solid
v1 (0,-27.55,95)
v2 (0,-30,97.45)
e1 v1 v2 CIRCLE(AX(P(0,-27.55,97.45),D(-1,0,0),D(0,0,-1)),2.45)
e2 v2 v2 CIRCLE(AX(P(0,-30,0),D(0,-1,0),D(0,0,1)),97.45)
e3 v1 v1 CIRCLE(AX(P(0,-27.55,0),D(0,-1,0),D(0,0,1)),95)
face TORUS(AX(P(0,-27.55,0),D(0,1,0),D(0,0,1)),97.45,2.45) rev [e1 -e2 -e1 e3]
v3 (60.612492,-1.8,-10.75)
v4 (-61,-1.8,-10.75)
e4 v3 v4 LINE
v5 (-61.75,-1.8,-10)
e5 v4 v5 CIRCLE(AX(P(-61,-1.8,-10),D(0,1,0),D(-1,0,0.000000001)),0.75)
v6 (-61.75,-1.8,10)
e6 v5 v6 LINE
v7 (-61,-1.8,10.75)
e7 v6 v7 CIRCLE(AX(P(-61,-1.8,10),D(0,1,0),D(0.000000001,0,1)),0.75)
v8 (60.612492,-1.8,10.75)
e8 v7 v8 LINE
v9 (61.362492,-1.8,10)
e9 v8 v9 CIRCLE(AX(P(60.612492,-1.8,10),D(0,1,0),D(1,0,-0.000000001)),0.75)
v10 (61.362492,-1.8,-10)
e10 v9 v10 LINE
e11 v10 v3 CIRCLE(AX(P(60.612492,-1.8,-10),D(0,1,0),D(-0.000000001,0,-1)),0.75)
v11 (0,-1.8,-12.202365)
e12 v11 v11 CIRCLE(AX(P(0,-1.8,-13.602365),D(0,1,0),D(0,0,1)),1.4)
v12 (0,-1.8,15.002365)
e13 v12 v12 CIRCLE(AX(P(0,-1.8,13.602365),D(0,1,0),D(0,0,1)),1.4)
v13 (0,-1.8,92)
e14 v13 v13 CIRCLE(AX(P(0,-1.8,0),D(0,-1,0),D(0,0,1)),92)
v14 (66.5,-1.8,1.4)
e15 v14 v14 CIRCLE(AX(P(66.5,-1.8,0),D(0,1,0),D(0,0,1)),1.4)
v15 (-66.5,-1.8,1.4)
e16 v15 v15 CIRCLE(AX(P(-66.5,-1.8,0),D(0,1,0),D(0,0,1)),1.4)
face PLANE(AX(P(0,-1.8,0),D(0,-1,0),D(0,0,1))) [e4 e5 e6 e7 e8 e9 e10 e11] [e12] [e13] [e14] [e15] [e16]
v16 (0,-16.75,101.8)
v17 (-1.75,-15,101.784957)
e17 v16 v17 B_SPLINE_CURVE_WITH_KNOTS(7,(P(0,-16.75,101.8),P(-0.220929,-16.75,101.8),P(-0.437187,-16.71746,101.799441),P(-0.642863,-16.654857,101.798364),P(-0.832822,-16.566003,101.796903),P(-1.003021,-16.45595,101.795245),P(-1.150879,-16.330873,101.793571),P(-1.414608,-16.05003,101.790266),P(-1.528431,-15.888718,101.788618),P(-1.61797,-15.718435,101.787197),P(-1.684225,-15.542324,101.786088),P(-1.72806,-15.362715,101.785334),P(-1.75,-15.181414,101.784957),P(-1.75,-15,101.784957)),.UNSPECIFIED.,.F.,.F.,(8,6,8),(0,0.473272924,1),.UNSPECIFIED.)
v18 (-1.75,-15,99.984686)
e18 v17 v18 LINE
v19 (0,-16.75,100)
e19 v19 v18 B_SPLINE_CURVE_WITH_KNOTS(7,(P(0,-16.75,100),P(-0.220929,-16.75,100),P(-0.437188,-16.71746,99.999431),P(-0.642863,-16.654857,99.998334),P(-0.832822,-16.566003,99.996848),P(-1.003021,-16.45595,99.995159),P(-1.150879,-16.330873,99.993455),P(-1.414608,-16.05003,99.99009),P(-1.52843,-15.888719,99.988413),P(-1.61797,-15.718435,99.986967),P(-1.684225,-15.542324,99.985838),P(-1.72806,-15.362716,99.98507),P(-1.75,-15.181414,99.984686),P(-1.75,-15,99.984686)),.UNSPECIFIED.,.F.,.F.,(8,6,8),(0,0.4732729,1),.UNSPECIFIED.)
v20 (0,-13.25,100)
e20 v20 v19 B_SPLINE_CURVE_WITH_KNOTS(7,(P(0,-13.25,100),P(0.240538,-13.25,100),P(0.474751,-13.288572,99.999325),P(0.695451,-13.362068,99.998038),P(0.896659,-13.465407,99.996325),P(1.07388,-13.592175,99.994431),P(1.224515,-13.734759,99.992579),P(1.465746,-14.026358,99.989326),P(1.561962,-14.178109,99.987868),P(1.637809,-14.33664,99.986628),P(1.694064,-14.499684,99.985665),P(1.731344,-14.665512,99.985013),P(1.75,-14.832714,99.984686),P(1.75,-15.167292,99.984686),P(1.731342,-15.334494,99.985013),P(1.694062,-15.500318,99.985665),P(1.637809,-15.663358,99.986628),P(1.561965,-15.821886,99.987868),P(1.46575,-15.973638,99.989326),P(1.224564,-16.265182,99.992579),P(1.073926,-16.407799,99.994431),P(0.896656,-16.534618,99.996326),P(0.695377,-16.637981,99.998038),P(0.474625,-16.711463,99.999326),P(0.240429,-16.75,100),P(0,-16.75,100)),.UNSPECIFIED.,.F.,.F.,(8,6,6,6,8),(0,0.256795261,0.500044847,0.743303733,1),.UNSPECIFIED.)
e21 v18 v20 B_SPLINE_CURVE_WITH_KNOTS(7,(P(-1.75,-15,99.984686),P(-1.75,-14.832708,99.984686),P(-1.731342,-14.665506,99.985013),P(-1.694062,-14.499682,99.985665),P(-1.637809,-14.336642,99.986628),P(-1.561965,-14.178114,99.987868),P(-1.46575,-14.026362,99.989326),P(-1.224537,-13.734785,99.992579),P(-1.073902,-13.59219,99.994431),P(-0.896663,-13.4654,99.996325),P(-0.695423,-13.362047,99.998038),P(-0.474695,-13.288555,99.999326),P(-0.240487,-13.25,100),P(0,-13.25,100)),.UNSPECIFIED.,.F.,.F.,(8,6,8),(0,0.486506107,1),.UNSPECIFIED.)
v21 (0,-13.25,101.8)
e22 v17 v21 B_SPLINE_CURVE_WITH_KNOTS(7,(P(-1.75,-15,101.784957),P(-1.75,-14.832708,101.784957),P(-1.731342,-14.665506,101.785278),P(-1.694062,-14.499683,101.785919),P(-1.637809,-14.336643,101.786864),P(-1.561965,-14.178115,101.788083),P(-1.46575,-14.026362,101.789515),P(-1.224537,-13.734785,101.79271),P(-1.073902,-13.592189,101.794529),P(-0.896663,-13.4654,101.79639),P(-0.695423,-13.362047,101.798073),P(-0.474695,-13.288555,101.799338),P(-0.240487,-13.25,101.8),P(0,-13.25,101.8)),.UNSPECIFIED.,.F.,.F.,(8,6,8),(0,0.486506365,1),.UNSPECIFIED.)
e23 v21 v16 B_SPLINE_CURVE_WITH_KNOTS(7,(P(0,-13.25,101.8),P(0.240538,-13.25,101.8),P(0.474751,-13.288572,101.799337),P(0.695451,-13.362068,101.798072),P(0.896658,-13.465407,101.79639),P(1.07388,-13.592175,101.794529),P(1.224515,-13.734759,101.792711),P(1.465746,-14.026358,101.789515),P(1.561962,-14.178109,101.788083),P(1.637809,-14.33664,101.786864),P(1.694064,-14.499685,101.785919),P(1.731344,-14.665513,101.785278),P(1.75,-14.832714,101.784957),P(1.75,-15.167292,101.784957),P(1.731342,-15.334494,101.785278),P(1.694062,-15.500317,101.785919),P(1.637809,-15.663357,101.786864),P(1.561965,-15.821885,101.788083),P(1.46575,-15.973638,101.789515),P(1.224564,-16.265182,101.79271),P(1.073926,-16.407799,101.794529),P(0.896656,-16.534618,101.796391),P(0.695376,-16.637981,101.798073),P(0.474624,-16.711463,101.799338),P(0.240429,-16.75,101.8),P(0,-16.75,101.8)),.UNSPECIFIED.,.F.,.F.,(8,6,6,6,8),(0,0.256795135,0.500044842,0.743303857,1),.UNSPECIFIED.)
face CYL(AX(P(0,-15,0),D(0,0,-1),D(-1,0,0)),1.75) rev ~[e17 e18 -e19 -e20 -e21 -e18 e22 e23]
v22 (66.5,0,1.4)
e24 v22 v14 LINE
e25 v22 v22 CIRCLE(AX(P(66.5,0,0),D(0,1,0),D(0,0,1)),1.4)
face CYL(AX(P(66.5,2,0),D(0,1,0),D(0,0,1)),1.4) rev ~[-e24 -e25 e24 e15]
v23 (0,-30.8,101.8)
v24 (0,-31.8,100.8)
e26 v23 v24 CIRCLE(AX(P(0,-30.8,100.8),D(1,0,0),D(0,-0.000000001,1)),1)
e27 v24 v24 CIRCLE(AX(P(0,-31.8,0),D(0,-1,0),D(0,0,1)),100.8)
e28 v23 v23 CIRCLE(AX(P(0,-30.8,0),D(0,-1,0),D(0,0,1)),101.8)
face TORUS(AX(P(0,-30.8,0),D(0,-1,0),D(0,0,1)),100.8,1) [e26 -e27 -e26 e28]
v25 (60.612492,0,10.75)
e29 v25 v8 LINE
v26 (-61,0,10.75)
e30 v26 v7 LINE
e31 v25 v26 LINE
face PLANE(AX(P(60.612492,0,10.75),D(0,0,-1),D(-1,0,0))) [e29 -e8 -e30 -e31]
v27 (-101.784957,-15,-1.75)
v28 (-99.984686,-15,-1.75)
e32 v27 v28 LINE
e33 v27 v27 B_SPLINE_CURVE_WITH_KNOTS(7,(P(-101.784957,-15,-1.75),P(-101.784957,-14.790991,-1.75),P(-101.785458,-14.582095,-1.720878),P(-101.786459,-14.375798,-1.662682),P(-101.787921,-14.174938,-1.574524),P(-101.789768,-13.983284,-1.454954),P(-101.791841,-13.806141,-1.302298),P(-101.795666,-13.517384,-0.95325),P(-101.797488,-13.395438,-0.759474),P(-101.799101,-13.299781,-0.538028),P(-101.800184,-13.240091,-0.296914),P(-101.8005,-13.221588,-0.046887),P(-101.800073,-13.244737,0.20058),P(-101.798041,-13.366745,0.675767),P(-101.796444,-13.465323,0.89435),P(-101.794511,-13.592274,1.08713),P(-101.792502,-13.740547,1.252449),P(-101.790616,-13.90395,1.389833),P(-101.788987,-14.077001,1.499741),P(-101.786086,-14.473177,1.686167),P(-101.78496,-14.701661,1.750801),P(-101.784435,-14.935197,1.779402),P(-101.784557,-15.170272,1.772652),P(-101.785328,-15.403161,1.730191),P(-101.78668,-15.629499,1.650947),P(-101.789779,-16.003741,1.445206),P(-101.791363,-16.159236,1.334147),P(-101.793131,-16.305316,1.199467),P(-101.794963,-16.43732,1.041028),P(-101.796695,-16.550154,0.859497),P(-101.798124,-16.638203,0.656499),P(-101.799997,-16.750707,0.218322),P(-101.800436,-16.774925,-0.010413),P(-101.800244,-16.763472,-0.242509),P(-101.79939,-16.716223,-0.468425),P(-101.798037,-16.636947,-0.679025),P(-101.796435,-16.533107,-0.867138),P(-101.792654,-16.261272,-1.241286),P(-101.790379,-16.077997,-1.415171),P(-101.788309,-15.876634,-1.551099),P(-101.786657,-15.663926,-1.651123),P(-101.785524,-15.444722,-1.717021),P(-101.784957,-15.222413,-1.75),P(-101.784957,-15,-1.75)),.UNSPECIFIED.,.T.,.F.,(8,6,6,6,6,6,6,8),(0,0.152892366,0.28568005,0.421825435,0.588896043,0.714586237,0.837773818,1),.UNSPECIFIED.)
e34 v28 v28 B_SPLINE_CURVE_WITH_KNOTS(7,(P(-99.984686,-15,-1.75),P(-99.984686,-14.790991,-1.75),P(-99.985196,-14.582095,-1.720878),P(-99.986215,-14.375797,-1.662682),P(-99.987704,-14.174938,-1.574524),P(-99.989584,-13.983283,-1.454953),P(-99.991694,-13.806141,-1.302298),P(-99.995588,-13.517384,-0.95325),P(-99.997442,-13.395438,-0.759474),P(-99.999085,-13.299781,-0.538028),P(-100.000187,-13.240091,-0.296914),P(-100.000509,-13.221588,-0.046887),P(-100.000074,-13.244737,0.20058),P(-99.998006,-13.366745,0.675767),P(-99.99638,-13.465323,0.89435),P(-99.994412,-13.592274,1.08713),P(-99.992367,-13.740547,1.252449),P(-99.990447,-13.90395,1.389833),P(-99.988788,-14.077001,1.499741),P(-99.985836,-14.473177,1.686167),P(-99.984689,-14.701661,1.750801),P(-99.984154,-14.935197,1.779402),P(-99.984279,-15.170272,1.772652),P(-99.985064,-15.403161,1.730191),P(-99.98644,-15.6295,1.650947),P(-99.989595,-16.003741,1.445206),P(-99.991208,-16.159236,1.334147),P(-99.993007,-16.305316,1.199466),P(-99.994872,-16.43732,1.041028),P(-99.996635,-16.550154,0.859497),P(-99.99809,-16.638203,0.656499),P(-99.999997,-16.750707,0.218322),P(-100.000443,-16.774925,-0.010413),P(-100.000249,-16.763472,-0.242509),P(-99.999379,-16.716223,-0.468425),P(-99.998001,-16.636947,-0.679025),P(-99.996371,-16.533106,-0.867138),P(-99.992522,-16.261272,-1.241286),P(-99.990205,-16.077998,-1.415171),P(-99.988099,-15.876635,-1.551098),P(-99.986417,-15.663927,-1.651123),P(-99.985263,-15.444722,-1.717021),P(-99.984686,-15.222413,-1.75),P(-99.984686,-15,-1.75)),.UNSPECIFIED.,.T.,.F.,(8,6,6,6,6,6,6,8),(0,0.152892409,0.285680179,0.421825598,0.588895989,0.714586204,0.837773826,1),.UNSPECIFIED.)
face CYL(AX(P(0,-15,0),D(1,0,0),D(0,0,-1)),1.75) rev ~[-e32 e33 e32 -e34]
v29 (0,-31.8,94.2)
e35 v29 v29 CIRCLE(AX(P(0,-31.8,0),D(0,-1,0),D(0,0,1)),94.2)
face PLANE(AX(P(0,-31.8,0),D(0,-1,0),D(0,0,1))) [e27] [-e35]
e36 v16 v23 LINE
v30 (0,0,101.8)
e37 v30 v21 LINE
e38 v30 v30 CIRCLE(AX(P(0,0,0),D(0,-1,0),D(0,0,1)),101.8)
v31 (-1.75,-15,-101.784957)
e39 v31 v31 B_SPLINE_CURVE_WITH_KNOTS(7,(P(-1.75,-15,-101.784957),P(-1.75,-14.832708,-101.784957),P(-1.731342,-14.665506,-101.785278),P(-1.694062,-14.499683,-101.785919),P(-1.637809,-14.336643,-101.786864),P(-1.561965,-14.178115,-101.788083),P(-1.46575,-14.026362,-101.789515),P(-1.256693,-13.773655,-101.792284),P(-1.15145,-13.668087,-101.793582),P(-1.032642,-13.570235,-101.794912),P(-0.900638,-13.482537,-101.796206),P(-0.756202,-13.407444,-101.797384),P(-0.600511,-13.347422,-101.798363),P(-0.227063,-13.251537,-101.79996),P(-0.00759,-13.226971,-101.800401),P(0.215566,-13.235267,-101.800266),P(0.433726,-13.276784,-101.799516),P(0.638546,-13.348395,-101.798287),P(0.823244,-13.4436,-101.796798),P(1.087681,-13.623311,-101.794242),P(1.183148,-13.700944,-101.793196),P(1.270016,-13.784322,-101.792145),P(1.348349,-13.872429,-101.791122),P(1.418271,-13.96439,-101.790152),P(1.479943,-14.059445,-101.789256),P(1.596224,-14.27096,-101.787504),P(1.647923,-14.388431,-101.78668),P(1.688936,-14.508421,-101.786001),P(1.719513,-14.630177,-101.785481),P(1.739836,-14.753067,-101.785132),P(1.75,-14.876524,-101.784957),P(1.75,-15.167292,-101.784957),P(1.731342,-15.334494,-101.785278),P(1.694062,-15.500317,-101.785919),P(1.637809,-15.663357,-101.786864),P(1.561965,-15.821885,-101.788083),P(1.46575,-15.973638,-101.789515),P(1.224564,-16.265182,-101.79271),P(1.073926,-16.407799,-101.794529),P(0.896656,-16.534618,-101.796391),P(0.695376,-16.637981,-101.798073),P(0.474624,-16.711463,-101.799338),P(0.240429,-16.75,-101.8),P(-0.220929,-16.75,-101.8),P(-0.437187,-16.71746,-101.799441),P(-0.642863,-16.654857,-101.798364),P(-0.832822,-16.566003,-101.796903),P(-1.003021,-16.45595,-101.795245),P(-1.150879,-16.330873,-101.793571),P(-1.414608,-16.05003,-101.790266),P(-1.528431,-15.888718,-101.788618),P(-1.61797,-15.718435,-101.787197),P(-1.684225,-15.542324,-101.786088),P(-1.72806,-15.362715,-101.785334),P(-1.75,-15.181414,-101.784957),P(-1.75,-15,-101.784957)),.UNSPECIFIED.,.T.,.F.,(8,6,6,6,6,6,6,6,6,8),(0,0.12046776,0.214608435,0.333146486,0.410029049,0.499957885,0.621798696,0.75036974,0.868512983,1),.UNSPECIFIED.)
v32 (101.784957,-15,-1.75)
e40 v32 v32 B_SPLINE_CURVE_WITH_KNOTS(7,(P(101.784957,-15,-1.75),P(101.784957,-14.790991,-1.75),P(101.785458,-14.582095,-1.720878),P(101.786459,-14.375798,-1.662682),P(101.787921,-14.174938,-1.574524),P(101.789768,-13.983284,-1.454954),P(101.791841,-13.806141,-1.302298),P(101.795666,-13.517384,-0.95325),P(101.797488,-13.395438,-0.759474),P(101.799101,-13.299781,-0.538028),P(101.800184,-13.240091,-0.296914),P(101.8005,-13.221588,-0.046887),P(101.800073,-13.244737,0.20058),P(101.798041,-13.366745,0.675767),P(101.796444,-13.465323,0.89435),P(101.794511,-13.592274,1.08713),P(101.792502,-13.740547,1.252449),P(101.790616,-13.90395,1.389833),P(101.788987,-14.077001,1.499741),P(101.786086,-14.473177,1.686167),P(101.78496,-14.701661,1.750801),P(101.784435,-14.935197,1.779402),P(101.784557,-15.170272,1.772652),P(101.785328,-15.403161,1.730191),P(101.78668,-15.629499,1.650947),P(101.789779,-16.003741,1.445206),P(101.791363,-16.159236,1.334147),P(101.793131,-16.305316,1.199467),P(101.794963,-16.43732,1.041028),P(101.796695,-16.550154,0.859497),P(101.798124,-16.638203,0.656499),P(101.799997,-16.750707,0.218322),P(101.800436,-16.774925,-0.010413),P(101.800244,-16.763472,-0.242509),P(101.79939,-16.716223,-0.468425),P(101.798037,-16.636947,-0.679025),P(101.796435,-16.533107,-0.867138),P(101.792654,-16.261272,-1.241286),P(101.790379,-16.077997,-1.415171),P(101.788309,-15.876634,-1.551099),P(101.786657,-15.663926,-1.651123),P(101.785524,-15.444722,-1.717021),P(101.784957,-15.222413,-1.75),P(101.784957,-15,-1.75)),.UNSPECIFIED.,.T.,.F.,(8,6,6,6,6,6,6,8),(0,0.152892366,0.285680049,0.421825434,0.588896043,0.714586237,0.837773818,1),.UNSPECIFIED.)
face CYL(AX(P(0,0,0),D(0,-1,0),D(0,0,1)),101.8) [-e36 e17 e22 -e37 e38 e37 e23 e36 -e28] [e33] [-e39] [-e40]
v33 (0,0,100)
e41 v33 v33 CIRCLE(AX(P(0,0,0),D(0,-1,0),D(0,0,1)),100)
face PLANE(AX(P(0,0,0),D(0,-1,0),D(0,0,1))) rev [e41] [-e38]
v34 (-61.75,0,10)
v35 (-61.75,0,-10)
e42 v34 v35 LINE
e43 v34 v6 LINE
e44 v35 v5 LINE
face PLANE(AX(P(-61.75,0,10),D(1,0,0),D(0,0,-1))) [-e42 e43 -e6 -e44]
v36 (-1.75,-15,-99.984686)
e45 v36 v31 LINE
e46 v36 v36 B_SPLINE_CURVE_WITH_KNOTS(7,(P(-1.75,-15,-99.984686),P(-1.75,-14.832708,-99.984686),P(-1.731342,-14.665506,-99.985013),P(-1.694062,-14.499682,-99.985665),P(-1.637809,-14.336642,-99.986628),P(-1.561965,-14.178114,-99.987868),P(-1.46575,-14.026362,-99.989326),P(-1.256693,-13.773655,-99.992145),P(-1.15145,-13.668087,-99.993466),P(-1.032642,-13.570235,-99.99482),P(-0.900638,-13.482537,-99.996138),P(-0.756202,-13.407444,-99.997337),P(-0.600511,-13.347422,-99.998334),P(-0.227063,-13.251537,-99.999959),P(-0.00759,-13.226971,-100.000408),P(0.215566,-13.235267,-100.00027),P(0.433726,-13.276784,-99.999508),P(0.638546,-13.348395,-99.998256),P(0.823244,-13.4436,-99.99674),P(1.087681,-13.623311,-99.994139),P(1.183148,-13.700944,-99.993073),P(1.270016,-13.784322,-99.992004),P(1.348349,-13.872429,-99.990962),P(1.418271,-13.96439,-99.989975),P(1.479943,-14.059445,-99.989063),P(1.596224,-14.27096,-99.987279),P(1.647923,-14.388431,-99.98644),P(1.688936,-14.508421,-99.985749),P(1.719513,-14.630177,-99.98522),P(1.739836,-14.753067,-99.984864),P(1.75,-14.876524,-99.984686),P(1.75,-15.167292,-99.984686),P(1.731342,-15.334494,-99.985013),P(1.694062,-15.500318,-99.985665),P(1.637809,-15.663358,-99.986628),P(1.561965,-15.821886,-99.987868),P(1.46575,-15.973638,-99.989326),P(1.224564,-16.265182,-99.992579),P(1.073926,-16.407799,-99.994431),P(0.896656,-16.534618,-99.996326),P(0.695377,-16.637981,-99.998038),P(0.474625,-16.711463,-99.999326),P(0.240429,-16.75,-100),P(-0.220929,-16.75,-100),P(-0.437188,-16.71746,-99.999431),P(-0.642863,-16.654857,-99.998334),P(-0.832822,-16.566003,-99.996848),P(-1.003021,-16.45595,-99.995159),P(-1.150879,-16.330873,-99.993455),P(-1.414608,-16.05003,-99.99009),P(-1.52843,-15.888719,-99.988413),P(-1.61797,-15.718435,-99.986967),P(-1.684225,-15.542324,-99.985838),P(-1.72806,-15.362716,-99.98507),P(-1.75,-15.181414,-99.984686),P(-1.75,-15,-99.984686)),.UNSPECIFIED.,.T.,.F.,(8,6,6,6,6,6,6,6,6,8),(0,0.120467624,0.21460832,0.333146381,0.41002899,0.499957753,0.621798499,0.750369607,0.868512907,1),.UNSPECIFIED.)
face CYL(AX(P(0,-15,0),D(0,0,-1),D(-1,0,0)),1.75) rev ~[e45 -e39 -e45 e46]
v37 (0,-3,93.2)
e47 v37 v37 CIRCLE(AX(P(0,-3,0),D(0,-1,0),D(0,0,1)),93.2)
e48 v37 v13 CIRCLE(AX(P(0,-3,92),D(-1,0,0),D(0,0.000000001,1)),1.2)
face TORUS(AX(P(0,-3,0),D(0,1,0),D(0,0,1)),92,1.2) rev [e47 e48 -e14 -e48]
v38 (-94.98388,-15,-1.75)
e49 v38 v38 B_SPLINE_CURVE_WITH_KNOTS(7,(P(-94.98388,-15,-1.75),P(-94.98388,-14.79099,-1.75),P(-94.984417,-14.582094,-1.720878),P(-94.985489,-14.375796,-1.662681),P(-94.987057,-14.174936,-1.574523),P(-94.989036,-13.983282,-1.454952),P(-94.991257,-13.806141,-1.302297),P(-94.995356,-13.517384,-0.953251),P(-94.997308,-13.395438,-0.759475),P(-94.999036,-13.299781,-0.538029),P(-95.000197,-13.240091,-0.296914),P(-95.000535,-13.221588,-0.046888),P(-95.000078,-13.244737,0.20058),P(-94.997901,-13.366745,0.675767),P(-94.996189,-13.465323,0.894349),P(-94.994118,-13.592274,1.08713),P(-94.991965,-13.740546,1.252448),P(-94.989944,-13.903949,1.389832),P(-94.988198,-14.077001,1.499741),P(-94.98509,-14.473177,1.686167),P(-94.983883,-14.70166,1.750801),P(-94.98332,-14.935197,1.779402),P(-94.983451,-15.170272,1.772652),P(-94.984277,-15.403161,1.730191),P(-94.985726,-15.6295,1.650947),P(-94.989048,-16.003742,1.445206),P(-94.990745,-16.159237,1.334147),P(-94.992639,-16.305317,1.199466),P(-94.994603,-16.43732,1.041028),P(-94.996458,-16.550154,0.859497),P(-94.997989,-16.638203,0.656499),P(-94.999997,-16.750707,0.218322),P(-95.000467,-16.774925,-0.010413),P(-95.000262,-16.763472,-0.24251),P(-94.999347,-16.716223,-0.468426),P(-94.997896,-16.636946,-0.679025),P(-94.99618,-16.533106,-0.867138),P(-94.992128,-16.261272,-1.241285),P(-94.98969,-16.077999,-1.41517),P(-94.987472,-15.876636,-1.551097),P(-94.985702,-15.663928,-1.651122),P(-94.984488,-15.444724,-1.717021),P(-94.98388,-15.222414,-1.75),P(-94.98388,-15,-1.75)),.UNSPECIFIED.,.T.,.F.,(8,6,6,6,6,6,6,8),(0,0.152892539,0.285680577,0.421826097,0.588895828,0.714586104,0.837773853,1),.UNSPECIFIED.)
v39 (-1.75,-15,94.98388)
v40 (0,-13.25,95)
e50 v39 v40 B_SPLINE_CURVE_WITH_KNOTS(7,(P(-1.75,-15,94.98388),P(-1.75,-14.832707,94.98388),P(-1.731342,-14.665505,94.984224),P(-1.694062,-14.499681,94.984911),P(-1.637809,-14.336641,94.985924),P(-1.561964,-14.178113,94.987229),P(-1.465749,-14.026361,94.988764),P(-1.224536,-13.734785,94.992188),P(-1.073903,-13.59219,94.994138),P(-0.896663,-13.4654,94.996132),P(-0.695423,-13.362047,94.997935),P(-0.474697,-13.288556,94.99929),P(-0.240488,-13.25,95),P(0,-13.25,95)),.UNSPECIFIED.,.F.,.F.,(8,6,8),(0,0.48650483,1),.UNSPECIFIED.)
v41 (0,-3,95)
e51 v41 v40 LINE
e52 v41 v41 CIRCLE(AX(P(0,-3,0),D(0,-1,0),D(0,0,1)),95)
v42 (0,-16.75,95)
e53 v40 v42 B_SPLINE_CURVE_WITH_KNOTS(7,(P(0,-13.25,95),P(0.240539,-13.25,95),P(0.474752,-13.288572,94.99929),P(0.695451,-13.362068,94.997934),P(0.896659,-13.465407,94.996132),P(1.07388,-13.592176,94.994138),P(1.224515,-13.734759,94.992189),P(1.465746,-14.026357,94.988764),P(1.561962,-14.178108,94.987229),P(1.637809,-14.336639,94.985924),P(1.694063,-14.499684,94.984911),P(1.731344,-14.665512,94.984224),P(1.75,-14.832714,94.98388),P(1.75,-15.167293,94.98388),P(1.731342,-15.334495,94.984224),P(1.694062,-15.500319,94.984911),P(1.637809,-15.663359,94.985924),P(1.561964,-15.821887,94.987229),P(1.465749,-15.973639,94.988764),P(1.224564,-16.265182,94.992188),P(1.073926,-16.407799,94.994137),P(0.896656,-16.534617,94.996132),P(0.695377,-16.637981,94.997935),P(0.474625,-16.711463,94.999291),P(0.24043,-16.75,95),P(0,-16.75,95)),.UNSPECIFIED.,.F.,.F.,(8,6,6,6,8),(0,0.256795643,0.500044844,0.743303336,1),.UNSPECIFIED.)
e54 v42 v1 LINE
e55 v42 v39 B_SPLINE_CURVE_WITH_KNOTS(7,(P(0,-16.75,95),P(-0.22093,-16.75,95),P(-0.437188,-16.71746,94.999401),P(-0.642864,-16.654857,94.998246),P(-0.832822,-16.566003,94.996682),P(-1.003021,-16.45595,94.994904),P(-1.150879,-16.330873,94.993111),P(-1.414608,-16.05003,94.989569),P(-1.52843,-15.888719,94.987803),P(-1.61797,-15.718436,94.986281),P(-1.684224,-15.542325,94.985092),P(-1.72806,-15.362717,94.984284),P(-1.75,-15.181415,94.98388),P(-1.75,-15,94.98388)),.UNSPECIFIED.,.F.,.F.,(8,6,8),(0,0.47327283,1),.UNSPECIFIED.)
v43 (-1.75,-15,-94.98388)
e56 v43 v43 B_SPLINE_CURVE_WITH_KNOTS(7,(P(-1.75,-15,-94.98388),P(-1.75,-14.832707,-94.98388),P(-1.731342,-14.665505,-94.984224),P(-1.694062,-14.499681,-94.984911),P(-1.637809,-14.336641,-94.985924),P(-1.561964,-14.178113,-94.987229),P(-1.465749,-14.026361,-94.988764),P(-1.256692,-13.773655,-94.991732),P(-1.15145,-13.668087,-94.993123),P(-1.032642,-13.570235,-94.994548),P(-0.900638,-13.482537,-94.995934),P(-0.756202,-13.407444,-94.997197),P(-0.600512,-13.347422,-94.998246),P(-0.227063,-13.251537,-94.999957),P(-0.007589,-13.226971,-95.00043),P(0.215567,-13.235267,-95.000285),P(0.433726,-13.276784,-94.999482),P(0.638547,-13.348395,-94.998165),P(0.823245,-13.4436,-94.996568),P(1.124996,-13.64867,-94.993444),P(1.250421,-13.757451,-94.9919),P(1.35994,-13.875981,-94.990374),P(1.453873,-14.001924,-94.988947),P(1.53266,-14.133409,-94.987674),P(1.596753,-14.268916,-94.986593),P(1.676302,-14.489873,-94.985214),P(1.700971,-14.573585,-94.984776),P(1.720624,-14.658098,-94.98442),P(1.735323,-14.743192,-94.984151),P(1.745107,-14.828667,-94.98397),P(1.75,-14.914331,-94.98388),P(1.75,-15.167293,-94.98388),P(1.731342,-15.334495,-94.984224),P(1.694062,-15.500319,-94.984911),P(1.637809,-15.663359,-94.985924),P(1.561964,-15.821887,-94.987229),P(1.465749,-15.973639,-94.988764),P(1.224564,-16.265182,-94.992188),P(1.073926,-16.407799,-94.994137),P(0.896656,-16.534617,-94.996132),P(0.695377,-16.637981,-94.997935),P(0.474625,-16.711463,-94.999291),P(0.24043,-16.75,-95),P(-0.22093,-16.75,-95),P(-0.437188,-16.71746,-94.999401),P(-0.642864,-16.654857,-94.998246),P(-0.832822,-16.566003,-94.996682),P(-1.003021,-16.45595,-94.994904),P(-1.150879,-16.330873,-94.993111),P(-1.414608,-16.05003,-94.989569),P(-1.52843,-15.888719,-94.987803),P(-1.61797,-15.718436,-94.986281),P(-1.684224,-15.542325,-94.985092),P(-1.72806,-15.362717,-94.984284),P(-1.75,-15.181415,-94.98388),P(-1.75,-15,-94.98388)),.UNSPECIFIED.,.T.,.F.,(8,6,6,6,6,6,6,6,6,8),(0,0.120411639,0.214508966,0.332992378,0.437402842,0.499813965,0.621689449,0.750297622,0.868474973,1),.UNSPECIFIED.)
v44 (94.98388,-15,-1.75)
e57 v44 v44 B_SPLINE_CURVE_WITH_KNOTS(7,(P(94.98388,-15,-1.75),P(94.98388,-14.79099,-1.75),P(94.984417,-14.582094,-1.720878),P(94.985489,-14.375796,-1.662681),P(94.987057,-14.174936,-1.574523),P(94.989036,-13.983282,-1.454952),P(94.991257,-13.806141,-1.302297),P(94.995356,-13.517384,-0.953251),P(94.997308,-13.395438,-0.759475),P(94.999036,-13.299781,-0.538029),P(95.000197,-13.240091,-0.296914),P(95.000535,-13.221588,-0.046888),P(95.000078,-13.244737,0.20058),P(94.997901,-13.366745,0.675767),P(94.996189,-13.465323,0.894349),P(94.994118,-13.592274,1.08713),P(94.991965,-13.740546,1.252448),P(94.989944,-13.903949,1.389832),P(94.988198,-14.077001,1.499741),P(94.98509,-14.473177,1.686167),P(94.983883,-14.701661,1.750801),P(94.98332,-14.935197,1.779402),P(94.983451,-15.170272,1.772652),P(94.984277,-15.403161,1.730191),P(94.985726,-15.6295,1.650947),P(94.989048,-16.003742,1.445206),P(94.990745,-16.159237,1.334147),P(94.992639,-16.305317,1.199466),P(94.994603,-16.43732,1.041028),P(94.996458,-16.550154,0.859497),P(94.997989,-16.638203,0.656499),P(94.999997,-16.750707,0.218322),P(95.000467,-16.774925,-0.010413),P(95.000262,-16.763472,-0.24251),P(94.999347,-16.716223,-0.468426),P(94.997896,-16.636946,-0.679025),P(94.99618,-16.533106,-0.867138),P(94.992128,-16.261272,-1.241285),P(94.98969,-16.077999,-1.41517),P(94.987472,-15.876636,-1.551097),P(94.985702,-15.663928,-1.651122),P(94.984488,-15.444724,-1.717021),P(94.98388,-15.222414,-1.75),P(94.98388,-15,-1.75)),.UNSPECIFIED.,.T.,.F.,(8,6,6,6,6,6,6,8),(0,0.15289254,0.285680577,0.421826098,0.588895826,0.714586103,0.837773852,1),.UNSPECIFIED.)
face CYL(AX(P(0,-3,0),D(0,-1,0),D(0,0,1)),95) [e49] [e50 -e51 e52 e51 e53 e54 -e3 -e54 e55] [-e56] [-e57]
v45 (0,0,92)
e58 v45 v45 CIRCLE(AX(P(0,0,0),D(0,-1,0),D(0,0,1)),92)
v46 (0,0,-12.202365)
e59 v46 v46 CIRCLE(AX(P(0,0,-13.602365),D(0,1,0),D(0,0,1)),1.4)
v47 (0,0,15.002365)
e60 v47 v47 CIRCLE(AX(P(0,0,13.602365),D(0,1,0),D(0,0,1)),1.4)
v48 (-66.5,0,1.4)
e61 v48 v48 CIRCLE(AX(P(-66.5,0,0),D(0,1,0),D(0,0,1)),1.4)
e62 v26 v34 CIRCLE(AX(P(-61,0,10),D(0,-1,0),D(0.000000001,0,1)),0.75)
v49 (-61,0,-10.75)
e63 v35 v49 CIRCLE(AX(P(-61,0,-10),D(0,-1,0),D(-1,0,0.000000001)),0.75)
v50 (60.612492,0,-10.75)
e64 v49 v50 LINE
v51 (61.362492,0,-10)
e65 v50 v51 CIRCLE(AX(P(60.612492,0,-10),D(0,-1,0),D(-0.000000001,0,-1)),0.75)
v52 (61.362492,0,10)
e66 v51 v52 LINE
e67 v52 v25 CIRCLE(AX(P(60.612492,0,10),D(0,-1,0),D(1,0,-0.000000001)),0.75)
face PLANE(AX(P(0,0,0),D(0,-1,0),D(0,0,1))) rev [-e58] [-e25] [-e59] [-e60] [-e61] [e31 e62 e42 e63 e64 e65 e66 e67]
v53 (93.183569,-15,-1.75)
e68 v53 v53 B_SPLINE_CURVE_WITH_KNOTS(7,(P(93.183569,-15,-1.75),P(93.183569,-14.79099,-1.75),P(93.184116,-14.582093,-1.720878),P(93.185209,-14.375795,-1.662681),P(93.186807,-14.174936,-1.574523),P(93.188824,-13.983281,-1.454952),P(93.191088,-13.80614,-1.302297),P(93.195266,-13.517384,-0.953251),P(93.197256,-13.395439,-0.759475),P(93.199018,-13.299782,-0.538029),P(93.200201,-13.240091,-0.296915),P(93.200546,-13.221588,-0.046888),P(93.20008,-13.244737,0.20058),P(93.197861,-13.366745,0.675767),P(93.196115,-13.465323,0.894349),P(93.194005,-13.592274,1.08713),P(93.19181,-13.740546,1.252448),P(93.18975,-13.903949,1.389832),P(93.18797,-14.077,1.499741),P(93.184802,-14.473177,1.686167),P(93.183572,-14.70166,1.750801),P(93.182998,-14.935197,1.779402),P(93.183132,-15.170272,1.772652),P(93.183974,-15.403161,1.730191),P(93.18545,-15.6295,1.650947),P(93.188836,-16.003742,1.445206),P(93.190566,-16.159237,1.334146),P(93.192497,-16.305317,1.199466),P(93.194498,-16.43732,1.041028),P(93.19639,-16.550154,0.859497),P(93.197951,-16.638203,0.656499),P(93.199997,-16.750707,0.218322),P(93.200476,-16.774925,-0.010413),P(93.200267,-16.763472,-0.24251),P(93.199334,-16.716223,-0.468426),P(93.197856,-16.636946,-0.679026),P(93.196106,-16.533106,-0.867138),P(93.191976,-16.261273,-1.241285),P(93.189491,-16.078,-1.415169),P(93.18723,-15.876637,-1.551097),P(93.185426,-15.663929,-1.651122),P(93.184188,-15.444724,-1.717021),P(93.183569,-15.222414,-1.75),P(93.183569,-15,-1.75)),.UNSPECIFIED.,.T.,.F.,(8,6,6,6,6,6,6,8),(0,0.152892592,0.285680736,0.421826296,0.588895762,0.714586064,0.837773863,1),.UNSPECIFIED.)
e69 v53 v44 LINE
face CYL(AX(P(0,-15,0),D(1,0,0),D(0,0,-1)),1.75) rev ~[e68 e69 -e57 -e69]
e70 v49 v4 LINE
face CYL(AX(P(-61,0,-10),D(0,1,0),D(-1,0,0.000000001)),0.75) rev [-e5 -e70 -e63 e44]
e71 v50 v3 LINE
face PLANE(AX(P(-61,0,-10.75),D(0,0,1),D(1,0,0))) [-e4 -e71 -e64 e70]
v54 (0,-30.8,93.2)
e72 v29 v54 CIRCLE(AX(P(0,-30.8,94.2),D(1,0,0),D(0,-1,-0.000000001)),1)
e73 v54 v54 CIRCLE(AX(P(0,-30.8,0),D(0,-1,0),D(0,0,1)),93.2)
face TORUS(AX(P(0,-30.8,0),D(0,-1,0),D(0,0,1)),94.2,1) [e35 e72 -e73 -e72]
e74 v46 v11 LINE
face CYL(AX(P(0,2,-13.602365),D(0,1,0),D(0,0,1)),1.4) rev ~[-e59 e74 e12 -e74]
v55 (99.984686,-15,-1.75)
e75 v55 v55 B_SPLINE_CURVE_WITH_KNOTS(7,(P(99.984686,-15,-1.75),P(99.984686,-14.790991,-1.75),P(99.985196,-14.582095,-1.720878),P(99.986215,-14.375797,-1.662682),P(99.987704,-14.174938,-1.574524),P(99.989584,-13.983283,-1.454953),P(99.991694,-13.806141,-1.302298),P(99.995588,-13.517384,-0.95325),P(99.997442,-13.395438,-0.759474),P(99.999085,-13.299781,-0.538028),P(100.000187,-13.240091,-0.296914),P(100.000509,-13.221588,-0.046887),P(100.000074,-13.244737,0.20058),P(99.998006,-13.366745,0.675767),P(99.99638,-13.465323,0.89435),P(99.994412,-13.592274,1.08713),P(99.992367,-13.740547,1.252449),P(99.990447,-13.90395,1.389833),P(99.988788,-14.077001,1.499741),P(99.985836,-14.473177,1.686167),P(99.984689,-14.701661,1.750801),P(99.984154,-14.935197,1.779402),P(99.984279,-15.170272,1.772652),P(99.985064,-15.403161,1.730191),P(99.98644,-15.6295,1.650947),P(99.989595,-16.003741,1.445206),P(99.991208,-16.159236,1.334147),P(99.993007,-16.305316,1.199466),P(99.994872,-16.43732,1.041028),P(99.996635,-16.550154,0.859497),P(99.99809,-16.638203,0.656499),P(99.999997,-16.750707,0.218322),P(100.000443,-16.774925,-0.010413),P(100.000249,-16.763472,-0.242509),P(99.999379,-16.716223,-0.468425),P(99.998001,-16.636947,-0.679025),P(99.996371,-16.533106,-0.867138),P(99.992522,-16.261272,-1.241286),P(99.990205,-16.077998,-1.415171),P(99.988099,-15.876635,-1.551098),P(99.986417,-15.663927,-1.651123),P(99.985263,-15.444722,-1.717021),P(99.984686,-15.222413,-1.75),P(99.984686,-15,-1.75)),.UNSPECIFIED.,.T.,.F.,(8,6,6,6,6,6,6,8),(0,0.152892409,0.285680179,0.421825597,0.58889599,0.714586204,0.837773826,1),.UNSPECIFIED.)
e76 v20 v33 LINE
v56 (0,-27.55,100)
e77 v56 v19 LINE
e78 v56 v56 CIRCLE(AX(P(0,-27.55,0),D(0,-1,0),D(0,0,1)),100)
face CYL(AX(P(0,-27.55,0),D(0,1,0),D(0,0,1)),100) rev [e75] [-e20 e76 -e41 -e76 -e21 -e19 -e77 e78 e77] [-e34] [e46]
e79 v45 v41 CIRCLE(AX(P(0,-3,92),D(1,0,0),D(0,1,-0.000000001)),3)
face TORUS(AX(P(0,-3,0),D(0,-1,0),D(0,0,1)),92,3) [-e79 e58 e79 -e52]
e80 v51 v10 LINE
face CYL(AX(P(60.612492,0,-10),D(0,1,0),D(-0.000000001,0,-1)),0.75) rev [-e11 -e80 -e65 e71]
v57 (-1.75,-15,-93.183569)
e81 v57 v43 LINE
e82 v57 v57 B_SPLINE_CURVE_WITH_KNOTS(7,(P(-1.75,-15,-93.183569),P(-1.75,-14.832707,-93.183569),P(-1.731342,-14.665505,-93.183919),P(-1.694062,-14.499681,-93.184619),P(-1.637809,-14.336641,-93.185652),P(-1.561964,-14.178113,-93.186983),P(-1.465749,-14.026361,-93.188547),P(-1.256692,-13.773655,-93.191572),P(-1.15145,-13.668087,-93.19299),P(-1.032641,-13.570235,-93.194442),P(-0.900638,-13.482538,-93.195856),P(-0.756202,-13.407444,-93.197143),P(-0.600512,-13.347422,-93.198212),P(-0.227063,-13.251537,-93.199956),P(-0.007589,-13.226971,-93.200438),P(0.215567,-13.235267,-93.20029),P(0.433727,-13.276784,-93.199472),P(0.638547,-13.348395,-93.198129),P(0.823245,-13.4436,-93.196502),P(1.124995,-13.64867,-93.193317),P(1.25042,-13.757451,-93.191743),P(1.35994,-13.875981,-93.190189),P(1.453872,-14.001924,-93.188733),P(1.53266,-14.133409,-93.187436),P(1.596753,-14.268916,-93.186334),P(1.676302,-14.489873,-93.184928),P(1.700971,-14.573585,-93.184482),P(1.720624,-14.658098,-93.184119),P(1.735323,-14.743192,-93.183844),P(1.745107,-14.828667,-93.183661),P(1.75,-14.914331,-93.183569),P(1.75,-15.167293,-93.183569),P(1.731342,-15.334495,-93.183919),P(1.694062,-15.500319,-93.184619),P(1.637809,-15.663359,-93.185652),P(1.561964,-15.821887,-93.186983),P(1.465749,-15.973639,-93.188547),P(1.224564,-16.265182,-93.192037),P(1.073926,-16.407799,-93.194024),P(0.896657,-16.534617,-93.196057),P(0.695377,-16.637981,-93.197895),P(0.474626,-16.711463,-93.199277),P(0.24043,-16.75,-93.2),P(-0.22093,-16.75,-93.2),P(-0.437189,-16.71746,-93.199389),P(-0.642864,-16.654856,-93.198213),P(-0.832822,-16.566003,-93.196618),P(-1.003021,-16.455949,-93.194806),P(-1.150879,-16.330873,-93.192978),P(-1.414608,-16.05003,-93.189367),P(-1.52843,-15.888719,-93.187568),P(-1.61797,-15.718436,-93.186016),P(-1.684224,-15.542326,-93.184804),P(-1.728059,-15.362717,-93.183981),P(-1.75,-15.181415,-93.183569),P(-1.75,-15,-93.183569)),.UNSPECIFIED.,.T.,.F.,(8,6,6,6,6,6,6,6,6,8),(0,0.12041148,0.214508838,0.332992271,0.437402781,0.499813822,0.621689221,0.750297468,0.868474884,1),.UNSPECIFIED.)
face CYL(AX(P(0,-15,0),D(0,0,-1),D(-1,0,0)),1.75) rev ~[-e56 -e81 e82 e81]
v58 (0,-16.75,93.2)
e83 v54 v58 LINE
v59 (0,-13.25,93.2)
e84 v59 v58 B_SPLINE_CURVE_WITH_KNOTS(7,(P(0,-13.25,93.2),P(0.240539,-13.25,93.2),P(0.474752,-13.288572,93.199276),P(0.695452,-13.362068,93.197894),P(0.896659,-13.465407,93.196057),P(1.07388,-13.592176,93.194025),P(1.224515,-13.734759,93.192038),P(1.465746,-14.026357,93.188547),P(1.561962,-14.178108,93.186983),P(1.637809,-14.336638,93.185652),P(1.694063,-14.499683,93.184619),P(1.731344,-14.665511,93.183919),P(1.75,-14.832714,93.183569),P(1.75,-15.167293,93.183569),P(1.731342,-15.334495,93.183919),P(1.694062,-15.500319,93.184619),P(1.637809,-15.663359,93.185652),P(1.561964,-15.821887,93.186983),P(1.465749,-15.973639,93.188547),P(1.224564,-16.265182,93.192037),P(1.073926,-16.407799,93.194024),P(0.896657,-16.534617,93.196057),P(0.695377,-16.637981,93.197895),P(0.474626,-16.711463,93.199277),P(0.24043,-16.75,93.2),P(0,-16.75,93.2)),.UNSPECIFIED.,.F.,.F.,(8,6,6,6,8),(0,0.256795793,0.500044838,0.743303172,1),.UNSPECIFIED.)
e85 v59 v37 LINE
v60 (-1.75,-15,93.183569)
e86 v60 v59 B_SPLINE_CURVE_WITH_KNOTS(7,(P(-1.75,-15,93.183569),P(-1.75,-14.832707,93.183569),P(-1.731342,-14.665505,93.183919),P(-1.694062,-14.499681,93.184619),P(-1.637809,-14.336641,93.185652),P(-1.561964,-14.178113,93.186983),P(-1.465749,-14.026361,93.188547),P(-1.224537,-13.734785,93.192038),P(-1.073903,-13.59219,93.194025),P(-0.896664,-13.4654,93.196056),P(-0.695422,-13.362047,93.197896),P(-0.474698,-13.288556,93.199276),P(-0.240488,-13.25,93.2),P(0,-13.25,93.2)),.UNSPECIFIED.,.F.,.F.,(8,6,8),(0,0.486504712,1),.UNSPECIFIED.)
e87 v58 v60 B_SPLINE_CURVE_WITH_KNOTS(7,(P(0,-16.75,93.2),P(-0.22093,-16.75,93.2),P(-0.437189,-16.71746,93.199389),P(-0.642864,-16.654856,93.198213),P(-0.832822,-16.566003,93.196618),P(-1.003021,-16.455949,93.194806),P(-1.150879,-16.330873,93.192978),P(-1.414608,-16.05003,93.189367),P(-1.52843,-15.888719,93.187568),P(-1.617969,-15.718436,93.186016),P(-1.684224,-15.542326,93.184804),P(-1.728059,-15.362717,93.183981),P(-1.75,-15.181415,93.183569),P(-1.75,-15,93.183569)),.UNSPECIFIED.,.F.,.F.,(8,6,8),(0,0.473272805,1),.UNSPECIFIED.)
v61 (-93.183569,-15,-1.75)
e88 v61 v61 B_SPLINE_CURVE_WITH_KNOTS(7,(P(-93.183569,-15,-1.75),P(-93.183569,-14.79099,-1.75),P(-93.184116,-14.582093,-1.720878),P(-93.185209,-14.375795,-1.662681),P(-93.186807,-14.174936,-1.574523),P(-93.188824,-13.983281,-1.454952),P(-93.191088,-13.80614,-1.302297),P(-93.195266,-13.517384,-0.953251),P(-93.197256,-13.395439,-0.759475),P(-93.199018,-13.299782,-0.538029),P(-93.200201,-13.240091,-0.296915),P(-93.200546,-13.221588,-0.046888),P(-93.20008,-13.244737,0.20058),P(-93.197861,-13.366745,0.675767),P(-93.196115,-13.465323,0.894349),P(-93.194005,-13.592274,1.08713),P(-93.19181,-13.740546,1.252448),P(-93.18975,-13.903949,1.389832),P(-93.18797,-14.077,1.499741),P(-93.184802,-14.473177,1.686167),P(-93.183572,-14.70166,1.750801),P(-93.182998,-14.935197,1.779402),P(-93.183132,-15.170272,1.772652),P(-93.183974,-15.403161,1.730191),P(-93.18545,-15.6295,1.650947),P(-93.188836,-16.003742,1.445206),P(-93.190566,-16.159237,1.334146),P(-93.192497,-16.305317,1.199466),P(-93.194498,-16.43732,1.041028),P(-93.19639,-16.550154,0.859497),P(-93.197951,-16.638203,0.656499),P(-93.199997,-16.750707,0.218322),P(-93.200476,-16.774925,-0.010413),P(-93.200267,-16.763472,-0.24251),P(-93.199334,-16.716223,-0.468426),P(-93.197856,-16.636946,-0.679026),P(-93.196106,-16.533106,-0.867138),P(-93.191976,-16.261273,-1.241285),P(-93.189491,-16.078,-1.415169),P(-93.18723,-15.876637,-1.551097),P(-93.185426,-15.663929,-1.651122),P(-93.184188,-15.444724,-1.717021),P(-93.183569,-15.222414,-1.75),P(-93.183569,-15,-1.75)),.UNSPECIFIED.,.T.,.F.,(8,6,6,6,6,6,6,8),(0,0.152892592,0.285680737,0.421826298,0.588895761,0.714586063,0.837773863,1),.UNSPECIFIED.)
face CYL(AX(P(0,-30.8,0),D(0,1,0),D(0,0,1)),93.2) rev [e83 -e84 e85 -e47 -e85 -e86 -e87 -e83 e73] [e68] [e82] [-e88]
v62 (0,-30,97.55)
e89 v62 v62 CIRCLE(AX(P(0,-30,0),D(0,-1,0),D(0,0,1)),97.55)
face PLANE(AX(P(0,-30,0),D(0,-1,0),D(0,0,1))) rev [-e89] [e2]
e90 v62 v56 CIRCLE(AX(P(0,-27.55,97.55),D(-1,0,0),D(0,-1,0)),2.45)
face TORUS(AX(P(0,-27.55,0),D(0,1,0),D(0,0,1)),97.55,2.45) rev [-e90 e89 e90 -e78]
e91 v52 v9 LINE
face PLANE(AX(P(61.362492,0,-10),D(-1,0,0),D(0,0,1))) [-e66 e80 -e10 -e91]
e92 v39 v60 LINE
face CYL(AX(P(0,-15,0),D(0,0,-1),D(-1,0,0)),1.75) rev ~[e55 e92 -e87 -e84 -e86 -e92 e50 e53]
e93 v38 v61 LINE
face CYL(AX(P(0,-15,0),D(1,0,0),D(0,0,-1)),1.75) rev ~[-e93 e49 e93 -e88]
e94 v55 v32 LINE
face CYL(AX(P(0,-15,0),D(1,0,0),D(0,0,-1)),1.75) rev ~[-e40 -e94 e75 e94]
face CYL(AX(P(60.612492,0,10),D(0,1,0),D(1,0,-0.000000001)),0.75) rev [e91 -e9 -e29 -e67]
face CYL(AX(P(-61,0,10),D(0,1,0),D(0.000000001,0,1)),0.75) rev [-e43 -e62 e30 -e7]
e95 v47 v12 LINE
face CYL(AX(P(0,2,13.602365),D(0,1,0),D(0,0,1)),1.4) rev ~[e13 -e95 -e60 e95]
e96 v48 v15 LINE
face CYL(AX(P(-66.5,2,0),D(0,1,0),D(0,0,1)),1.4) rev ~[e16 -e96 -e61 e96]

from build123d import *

# Parameters (mm, degrees)
SCHIZZO2_R                  = 1.75
TAGLIO_ESTRUSIONE1_DEPTH    = 148.437173082
RIPETIZIONECIRCOLARE1_COUNT = 2
RIPETIZIONECIRCOLARE1_ANGLE = 90
TAGLIO_ESTRUSIONE2_DEPTH    = 8.5
SCHIZZO4_R                  = 1.4
TAGLIO_ESTRUSIONE3_DEPTH    = 10
SCHIZZO5_R                  = 1.4
TAGLIO_ESTRUSIONE4_DEPTH    = 10


with BuildPart() as part:
    # Schizzo1 → Rivoluzione1 (revolve)
    with BuildSketch(Plane.XY, mode=Mode.PRIVATE) as rivoluzione1_sk:
        with BuildLine():
            Line((0, 0), (-92, 0))
            ThreePointArc((-92, 0), (-94.121320344, -0.878679656), (-95, -3))
            Line((-95, -3), (-95, -27.55))
            ThreePointArc((-95, -27.55), (-95.717588386, -29.282411614), (-97.45, -30))
            Line((-97.45, -30), (-97.55, -30))
            ThreePointArc((-97.55, -30), (-99.282411614, -29.282411614), (-100, -27.55))
            Line((-100, -27.55), (-100, 0))
            Line((-100, 0), (-101.8, 0))
            Line((-101.8, 0), (-101.8, -30.8))
            ThreePointArc((-101.8, -30.8), (-101.507106781, -31.507106781), (-100.8, -31.8))
            Line((-100.8, -31.8), (-94.2, -31.8))
            ThreePointArc((-94.2, -31.8), (-93.492893219, -31.507106781), (-93.2, -30.8))
            Line((-93.2, -30.8), (-93.2, -3))
            ThreePointArc((-93.2, -3), (-92.848528137, -2.151471863), (-92, -1.8))
            Line((-92, -1.8), (0, -1.8))
            Line((0, -1.8), (0, 0))
        make_face()
    revolve(rivoluzione1_sk.sketch.rotate(Axis((0, 0, 0), (0, -1, 0)), 270), axis=Axis((0, 0, 0), (0, -1, 0)))

    # Schizzo2 → Taglio-Estrusione1 (cut, symmetric)
    with BuildSketch(Plane(origin=(0, 0, 0), x_dir=(0, 0, -1), z_dir=(1, 0, 0))):
        with Locations((0, -15)):
            Circle(SCHIZZO2_R)
    taglio_estrusione1 = extrude(amount=TAGLIO_ESTRUSIONE1_DEPTH, both=True, mode=Mode.SUBTRACT)

    # RipetizioneCircolare1: Taglio-Estrusione1 ×2 about axis
    ripetizionecircolare1_axis = Axis((0, -30.8, 0), (0, 1, 0))
    for i in range(1, RIPETIZIONECIRCOLARE1_COUNT):
        add(taglio_estrusione1.rotate(ripetizionecircolare1_axis, i * RIPETIZIONECIRCOLARE1_ANGLE / (RIPETIZIONECIRCOLARE1_COUNT - 1)), mode=Mode.SUBTRACT)

    # Schizzo3 → Taglio-Estrusione2 (cut)
    with BuildSketch(Plane(origin=(0, 0, 0), x_dir=(1, 0, 0), z_dir=(0, 1, 0))):
        with BuildLine():
            Line((-61, 10.75), (60.612492158, 10.75))
            ThreePointArc((60.612492158, 10.75), (61.142822244, 10.530330086), (61.362492158, 10))
            Line((61.362492158, 10), (61.362492158, -10))
            ThreePointArc((61.362492158, -10), (61.142822244, -10.530330086), (60.612492158, -10.75))
            Line((60.612492158, -10.75), (-61, -10.75))
            ThreePointArc((-61, -10.75), (-61.530330086, -10.530330086), (-61.75, -10))
            Line((-61.75, -10), (-61.75, 10))
            ThreePointArc((-61.75, 10), (-61.530330086, 10.530330086), (-61, 10.75))
        make_face()
    extrude(amount=-TAGLIO_ESTRUSIONE2_DEPTH, mode=Mode.SUBTRACT)

    # Schizzo4 → Taglio-Estrusione3 (cut)
    with BuildSketch(Plane(origin=(-0.769389316, 2, -203.6), x_dir=(1, 0, 0), z_dir=(0, 1, 0))):
        with Locations(Location((0.769389316, -189.997635123, 0), (0, 0, 270))):
            Circle(SCHIZZO4_R)
        with Locations(Location((0.769389316, -217.202364877, 0), (0, 0, 270))):
            Circle(SCHIZZO4_R)
    extrude(amount=-TAGLIO_ESTRUSIONE3_DEPTH, mode=Mode.SUBTRACT)

    # Schizzo5 → Taglio-Estrusione4 (cut)
    with BuildSketch(Plane(origin=(-0.769389316, 2, -203.6), x_dir=(1, 0, 0), z_dir=(0, 1, 0))):
        with Locations(Location((-65.730610684, -203.6, 0), (0, 0, 270))):
            Circle(SCHIZZO5_R)
        with Locations(Location((67.269389316, -203.6, 0), (0, 0, 270))):
            Circle(SCHIZZO5_R)
    extrude(amount=-TAGLIO_ESTRUSIONE4_DEPTH, mode=Mode.SUBTRACT)


solid = part.part
